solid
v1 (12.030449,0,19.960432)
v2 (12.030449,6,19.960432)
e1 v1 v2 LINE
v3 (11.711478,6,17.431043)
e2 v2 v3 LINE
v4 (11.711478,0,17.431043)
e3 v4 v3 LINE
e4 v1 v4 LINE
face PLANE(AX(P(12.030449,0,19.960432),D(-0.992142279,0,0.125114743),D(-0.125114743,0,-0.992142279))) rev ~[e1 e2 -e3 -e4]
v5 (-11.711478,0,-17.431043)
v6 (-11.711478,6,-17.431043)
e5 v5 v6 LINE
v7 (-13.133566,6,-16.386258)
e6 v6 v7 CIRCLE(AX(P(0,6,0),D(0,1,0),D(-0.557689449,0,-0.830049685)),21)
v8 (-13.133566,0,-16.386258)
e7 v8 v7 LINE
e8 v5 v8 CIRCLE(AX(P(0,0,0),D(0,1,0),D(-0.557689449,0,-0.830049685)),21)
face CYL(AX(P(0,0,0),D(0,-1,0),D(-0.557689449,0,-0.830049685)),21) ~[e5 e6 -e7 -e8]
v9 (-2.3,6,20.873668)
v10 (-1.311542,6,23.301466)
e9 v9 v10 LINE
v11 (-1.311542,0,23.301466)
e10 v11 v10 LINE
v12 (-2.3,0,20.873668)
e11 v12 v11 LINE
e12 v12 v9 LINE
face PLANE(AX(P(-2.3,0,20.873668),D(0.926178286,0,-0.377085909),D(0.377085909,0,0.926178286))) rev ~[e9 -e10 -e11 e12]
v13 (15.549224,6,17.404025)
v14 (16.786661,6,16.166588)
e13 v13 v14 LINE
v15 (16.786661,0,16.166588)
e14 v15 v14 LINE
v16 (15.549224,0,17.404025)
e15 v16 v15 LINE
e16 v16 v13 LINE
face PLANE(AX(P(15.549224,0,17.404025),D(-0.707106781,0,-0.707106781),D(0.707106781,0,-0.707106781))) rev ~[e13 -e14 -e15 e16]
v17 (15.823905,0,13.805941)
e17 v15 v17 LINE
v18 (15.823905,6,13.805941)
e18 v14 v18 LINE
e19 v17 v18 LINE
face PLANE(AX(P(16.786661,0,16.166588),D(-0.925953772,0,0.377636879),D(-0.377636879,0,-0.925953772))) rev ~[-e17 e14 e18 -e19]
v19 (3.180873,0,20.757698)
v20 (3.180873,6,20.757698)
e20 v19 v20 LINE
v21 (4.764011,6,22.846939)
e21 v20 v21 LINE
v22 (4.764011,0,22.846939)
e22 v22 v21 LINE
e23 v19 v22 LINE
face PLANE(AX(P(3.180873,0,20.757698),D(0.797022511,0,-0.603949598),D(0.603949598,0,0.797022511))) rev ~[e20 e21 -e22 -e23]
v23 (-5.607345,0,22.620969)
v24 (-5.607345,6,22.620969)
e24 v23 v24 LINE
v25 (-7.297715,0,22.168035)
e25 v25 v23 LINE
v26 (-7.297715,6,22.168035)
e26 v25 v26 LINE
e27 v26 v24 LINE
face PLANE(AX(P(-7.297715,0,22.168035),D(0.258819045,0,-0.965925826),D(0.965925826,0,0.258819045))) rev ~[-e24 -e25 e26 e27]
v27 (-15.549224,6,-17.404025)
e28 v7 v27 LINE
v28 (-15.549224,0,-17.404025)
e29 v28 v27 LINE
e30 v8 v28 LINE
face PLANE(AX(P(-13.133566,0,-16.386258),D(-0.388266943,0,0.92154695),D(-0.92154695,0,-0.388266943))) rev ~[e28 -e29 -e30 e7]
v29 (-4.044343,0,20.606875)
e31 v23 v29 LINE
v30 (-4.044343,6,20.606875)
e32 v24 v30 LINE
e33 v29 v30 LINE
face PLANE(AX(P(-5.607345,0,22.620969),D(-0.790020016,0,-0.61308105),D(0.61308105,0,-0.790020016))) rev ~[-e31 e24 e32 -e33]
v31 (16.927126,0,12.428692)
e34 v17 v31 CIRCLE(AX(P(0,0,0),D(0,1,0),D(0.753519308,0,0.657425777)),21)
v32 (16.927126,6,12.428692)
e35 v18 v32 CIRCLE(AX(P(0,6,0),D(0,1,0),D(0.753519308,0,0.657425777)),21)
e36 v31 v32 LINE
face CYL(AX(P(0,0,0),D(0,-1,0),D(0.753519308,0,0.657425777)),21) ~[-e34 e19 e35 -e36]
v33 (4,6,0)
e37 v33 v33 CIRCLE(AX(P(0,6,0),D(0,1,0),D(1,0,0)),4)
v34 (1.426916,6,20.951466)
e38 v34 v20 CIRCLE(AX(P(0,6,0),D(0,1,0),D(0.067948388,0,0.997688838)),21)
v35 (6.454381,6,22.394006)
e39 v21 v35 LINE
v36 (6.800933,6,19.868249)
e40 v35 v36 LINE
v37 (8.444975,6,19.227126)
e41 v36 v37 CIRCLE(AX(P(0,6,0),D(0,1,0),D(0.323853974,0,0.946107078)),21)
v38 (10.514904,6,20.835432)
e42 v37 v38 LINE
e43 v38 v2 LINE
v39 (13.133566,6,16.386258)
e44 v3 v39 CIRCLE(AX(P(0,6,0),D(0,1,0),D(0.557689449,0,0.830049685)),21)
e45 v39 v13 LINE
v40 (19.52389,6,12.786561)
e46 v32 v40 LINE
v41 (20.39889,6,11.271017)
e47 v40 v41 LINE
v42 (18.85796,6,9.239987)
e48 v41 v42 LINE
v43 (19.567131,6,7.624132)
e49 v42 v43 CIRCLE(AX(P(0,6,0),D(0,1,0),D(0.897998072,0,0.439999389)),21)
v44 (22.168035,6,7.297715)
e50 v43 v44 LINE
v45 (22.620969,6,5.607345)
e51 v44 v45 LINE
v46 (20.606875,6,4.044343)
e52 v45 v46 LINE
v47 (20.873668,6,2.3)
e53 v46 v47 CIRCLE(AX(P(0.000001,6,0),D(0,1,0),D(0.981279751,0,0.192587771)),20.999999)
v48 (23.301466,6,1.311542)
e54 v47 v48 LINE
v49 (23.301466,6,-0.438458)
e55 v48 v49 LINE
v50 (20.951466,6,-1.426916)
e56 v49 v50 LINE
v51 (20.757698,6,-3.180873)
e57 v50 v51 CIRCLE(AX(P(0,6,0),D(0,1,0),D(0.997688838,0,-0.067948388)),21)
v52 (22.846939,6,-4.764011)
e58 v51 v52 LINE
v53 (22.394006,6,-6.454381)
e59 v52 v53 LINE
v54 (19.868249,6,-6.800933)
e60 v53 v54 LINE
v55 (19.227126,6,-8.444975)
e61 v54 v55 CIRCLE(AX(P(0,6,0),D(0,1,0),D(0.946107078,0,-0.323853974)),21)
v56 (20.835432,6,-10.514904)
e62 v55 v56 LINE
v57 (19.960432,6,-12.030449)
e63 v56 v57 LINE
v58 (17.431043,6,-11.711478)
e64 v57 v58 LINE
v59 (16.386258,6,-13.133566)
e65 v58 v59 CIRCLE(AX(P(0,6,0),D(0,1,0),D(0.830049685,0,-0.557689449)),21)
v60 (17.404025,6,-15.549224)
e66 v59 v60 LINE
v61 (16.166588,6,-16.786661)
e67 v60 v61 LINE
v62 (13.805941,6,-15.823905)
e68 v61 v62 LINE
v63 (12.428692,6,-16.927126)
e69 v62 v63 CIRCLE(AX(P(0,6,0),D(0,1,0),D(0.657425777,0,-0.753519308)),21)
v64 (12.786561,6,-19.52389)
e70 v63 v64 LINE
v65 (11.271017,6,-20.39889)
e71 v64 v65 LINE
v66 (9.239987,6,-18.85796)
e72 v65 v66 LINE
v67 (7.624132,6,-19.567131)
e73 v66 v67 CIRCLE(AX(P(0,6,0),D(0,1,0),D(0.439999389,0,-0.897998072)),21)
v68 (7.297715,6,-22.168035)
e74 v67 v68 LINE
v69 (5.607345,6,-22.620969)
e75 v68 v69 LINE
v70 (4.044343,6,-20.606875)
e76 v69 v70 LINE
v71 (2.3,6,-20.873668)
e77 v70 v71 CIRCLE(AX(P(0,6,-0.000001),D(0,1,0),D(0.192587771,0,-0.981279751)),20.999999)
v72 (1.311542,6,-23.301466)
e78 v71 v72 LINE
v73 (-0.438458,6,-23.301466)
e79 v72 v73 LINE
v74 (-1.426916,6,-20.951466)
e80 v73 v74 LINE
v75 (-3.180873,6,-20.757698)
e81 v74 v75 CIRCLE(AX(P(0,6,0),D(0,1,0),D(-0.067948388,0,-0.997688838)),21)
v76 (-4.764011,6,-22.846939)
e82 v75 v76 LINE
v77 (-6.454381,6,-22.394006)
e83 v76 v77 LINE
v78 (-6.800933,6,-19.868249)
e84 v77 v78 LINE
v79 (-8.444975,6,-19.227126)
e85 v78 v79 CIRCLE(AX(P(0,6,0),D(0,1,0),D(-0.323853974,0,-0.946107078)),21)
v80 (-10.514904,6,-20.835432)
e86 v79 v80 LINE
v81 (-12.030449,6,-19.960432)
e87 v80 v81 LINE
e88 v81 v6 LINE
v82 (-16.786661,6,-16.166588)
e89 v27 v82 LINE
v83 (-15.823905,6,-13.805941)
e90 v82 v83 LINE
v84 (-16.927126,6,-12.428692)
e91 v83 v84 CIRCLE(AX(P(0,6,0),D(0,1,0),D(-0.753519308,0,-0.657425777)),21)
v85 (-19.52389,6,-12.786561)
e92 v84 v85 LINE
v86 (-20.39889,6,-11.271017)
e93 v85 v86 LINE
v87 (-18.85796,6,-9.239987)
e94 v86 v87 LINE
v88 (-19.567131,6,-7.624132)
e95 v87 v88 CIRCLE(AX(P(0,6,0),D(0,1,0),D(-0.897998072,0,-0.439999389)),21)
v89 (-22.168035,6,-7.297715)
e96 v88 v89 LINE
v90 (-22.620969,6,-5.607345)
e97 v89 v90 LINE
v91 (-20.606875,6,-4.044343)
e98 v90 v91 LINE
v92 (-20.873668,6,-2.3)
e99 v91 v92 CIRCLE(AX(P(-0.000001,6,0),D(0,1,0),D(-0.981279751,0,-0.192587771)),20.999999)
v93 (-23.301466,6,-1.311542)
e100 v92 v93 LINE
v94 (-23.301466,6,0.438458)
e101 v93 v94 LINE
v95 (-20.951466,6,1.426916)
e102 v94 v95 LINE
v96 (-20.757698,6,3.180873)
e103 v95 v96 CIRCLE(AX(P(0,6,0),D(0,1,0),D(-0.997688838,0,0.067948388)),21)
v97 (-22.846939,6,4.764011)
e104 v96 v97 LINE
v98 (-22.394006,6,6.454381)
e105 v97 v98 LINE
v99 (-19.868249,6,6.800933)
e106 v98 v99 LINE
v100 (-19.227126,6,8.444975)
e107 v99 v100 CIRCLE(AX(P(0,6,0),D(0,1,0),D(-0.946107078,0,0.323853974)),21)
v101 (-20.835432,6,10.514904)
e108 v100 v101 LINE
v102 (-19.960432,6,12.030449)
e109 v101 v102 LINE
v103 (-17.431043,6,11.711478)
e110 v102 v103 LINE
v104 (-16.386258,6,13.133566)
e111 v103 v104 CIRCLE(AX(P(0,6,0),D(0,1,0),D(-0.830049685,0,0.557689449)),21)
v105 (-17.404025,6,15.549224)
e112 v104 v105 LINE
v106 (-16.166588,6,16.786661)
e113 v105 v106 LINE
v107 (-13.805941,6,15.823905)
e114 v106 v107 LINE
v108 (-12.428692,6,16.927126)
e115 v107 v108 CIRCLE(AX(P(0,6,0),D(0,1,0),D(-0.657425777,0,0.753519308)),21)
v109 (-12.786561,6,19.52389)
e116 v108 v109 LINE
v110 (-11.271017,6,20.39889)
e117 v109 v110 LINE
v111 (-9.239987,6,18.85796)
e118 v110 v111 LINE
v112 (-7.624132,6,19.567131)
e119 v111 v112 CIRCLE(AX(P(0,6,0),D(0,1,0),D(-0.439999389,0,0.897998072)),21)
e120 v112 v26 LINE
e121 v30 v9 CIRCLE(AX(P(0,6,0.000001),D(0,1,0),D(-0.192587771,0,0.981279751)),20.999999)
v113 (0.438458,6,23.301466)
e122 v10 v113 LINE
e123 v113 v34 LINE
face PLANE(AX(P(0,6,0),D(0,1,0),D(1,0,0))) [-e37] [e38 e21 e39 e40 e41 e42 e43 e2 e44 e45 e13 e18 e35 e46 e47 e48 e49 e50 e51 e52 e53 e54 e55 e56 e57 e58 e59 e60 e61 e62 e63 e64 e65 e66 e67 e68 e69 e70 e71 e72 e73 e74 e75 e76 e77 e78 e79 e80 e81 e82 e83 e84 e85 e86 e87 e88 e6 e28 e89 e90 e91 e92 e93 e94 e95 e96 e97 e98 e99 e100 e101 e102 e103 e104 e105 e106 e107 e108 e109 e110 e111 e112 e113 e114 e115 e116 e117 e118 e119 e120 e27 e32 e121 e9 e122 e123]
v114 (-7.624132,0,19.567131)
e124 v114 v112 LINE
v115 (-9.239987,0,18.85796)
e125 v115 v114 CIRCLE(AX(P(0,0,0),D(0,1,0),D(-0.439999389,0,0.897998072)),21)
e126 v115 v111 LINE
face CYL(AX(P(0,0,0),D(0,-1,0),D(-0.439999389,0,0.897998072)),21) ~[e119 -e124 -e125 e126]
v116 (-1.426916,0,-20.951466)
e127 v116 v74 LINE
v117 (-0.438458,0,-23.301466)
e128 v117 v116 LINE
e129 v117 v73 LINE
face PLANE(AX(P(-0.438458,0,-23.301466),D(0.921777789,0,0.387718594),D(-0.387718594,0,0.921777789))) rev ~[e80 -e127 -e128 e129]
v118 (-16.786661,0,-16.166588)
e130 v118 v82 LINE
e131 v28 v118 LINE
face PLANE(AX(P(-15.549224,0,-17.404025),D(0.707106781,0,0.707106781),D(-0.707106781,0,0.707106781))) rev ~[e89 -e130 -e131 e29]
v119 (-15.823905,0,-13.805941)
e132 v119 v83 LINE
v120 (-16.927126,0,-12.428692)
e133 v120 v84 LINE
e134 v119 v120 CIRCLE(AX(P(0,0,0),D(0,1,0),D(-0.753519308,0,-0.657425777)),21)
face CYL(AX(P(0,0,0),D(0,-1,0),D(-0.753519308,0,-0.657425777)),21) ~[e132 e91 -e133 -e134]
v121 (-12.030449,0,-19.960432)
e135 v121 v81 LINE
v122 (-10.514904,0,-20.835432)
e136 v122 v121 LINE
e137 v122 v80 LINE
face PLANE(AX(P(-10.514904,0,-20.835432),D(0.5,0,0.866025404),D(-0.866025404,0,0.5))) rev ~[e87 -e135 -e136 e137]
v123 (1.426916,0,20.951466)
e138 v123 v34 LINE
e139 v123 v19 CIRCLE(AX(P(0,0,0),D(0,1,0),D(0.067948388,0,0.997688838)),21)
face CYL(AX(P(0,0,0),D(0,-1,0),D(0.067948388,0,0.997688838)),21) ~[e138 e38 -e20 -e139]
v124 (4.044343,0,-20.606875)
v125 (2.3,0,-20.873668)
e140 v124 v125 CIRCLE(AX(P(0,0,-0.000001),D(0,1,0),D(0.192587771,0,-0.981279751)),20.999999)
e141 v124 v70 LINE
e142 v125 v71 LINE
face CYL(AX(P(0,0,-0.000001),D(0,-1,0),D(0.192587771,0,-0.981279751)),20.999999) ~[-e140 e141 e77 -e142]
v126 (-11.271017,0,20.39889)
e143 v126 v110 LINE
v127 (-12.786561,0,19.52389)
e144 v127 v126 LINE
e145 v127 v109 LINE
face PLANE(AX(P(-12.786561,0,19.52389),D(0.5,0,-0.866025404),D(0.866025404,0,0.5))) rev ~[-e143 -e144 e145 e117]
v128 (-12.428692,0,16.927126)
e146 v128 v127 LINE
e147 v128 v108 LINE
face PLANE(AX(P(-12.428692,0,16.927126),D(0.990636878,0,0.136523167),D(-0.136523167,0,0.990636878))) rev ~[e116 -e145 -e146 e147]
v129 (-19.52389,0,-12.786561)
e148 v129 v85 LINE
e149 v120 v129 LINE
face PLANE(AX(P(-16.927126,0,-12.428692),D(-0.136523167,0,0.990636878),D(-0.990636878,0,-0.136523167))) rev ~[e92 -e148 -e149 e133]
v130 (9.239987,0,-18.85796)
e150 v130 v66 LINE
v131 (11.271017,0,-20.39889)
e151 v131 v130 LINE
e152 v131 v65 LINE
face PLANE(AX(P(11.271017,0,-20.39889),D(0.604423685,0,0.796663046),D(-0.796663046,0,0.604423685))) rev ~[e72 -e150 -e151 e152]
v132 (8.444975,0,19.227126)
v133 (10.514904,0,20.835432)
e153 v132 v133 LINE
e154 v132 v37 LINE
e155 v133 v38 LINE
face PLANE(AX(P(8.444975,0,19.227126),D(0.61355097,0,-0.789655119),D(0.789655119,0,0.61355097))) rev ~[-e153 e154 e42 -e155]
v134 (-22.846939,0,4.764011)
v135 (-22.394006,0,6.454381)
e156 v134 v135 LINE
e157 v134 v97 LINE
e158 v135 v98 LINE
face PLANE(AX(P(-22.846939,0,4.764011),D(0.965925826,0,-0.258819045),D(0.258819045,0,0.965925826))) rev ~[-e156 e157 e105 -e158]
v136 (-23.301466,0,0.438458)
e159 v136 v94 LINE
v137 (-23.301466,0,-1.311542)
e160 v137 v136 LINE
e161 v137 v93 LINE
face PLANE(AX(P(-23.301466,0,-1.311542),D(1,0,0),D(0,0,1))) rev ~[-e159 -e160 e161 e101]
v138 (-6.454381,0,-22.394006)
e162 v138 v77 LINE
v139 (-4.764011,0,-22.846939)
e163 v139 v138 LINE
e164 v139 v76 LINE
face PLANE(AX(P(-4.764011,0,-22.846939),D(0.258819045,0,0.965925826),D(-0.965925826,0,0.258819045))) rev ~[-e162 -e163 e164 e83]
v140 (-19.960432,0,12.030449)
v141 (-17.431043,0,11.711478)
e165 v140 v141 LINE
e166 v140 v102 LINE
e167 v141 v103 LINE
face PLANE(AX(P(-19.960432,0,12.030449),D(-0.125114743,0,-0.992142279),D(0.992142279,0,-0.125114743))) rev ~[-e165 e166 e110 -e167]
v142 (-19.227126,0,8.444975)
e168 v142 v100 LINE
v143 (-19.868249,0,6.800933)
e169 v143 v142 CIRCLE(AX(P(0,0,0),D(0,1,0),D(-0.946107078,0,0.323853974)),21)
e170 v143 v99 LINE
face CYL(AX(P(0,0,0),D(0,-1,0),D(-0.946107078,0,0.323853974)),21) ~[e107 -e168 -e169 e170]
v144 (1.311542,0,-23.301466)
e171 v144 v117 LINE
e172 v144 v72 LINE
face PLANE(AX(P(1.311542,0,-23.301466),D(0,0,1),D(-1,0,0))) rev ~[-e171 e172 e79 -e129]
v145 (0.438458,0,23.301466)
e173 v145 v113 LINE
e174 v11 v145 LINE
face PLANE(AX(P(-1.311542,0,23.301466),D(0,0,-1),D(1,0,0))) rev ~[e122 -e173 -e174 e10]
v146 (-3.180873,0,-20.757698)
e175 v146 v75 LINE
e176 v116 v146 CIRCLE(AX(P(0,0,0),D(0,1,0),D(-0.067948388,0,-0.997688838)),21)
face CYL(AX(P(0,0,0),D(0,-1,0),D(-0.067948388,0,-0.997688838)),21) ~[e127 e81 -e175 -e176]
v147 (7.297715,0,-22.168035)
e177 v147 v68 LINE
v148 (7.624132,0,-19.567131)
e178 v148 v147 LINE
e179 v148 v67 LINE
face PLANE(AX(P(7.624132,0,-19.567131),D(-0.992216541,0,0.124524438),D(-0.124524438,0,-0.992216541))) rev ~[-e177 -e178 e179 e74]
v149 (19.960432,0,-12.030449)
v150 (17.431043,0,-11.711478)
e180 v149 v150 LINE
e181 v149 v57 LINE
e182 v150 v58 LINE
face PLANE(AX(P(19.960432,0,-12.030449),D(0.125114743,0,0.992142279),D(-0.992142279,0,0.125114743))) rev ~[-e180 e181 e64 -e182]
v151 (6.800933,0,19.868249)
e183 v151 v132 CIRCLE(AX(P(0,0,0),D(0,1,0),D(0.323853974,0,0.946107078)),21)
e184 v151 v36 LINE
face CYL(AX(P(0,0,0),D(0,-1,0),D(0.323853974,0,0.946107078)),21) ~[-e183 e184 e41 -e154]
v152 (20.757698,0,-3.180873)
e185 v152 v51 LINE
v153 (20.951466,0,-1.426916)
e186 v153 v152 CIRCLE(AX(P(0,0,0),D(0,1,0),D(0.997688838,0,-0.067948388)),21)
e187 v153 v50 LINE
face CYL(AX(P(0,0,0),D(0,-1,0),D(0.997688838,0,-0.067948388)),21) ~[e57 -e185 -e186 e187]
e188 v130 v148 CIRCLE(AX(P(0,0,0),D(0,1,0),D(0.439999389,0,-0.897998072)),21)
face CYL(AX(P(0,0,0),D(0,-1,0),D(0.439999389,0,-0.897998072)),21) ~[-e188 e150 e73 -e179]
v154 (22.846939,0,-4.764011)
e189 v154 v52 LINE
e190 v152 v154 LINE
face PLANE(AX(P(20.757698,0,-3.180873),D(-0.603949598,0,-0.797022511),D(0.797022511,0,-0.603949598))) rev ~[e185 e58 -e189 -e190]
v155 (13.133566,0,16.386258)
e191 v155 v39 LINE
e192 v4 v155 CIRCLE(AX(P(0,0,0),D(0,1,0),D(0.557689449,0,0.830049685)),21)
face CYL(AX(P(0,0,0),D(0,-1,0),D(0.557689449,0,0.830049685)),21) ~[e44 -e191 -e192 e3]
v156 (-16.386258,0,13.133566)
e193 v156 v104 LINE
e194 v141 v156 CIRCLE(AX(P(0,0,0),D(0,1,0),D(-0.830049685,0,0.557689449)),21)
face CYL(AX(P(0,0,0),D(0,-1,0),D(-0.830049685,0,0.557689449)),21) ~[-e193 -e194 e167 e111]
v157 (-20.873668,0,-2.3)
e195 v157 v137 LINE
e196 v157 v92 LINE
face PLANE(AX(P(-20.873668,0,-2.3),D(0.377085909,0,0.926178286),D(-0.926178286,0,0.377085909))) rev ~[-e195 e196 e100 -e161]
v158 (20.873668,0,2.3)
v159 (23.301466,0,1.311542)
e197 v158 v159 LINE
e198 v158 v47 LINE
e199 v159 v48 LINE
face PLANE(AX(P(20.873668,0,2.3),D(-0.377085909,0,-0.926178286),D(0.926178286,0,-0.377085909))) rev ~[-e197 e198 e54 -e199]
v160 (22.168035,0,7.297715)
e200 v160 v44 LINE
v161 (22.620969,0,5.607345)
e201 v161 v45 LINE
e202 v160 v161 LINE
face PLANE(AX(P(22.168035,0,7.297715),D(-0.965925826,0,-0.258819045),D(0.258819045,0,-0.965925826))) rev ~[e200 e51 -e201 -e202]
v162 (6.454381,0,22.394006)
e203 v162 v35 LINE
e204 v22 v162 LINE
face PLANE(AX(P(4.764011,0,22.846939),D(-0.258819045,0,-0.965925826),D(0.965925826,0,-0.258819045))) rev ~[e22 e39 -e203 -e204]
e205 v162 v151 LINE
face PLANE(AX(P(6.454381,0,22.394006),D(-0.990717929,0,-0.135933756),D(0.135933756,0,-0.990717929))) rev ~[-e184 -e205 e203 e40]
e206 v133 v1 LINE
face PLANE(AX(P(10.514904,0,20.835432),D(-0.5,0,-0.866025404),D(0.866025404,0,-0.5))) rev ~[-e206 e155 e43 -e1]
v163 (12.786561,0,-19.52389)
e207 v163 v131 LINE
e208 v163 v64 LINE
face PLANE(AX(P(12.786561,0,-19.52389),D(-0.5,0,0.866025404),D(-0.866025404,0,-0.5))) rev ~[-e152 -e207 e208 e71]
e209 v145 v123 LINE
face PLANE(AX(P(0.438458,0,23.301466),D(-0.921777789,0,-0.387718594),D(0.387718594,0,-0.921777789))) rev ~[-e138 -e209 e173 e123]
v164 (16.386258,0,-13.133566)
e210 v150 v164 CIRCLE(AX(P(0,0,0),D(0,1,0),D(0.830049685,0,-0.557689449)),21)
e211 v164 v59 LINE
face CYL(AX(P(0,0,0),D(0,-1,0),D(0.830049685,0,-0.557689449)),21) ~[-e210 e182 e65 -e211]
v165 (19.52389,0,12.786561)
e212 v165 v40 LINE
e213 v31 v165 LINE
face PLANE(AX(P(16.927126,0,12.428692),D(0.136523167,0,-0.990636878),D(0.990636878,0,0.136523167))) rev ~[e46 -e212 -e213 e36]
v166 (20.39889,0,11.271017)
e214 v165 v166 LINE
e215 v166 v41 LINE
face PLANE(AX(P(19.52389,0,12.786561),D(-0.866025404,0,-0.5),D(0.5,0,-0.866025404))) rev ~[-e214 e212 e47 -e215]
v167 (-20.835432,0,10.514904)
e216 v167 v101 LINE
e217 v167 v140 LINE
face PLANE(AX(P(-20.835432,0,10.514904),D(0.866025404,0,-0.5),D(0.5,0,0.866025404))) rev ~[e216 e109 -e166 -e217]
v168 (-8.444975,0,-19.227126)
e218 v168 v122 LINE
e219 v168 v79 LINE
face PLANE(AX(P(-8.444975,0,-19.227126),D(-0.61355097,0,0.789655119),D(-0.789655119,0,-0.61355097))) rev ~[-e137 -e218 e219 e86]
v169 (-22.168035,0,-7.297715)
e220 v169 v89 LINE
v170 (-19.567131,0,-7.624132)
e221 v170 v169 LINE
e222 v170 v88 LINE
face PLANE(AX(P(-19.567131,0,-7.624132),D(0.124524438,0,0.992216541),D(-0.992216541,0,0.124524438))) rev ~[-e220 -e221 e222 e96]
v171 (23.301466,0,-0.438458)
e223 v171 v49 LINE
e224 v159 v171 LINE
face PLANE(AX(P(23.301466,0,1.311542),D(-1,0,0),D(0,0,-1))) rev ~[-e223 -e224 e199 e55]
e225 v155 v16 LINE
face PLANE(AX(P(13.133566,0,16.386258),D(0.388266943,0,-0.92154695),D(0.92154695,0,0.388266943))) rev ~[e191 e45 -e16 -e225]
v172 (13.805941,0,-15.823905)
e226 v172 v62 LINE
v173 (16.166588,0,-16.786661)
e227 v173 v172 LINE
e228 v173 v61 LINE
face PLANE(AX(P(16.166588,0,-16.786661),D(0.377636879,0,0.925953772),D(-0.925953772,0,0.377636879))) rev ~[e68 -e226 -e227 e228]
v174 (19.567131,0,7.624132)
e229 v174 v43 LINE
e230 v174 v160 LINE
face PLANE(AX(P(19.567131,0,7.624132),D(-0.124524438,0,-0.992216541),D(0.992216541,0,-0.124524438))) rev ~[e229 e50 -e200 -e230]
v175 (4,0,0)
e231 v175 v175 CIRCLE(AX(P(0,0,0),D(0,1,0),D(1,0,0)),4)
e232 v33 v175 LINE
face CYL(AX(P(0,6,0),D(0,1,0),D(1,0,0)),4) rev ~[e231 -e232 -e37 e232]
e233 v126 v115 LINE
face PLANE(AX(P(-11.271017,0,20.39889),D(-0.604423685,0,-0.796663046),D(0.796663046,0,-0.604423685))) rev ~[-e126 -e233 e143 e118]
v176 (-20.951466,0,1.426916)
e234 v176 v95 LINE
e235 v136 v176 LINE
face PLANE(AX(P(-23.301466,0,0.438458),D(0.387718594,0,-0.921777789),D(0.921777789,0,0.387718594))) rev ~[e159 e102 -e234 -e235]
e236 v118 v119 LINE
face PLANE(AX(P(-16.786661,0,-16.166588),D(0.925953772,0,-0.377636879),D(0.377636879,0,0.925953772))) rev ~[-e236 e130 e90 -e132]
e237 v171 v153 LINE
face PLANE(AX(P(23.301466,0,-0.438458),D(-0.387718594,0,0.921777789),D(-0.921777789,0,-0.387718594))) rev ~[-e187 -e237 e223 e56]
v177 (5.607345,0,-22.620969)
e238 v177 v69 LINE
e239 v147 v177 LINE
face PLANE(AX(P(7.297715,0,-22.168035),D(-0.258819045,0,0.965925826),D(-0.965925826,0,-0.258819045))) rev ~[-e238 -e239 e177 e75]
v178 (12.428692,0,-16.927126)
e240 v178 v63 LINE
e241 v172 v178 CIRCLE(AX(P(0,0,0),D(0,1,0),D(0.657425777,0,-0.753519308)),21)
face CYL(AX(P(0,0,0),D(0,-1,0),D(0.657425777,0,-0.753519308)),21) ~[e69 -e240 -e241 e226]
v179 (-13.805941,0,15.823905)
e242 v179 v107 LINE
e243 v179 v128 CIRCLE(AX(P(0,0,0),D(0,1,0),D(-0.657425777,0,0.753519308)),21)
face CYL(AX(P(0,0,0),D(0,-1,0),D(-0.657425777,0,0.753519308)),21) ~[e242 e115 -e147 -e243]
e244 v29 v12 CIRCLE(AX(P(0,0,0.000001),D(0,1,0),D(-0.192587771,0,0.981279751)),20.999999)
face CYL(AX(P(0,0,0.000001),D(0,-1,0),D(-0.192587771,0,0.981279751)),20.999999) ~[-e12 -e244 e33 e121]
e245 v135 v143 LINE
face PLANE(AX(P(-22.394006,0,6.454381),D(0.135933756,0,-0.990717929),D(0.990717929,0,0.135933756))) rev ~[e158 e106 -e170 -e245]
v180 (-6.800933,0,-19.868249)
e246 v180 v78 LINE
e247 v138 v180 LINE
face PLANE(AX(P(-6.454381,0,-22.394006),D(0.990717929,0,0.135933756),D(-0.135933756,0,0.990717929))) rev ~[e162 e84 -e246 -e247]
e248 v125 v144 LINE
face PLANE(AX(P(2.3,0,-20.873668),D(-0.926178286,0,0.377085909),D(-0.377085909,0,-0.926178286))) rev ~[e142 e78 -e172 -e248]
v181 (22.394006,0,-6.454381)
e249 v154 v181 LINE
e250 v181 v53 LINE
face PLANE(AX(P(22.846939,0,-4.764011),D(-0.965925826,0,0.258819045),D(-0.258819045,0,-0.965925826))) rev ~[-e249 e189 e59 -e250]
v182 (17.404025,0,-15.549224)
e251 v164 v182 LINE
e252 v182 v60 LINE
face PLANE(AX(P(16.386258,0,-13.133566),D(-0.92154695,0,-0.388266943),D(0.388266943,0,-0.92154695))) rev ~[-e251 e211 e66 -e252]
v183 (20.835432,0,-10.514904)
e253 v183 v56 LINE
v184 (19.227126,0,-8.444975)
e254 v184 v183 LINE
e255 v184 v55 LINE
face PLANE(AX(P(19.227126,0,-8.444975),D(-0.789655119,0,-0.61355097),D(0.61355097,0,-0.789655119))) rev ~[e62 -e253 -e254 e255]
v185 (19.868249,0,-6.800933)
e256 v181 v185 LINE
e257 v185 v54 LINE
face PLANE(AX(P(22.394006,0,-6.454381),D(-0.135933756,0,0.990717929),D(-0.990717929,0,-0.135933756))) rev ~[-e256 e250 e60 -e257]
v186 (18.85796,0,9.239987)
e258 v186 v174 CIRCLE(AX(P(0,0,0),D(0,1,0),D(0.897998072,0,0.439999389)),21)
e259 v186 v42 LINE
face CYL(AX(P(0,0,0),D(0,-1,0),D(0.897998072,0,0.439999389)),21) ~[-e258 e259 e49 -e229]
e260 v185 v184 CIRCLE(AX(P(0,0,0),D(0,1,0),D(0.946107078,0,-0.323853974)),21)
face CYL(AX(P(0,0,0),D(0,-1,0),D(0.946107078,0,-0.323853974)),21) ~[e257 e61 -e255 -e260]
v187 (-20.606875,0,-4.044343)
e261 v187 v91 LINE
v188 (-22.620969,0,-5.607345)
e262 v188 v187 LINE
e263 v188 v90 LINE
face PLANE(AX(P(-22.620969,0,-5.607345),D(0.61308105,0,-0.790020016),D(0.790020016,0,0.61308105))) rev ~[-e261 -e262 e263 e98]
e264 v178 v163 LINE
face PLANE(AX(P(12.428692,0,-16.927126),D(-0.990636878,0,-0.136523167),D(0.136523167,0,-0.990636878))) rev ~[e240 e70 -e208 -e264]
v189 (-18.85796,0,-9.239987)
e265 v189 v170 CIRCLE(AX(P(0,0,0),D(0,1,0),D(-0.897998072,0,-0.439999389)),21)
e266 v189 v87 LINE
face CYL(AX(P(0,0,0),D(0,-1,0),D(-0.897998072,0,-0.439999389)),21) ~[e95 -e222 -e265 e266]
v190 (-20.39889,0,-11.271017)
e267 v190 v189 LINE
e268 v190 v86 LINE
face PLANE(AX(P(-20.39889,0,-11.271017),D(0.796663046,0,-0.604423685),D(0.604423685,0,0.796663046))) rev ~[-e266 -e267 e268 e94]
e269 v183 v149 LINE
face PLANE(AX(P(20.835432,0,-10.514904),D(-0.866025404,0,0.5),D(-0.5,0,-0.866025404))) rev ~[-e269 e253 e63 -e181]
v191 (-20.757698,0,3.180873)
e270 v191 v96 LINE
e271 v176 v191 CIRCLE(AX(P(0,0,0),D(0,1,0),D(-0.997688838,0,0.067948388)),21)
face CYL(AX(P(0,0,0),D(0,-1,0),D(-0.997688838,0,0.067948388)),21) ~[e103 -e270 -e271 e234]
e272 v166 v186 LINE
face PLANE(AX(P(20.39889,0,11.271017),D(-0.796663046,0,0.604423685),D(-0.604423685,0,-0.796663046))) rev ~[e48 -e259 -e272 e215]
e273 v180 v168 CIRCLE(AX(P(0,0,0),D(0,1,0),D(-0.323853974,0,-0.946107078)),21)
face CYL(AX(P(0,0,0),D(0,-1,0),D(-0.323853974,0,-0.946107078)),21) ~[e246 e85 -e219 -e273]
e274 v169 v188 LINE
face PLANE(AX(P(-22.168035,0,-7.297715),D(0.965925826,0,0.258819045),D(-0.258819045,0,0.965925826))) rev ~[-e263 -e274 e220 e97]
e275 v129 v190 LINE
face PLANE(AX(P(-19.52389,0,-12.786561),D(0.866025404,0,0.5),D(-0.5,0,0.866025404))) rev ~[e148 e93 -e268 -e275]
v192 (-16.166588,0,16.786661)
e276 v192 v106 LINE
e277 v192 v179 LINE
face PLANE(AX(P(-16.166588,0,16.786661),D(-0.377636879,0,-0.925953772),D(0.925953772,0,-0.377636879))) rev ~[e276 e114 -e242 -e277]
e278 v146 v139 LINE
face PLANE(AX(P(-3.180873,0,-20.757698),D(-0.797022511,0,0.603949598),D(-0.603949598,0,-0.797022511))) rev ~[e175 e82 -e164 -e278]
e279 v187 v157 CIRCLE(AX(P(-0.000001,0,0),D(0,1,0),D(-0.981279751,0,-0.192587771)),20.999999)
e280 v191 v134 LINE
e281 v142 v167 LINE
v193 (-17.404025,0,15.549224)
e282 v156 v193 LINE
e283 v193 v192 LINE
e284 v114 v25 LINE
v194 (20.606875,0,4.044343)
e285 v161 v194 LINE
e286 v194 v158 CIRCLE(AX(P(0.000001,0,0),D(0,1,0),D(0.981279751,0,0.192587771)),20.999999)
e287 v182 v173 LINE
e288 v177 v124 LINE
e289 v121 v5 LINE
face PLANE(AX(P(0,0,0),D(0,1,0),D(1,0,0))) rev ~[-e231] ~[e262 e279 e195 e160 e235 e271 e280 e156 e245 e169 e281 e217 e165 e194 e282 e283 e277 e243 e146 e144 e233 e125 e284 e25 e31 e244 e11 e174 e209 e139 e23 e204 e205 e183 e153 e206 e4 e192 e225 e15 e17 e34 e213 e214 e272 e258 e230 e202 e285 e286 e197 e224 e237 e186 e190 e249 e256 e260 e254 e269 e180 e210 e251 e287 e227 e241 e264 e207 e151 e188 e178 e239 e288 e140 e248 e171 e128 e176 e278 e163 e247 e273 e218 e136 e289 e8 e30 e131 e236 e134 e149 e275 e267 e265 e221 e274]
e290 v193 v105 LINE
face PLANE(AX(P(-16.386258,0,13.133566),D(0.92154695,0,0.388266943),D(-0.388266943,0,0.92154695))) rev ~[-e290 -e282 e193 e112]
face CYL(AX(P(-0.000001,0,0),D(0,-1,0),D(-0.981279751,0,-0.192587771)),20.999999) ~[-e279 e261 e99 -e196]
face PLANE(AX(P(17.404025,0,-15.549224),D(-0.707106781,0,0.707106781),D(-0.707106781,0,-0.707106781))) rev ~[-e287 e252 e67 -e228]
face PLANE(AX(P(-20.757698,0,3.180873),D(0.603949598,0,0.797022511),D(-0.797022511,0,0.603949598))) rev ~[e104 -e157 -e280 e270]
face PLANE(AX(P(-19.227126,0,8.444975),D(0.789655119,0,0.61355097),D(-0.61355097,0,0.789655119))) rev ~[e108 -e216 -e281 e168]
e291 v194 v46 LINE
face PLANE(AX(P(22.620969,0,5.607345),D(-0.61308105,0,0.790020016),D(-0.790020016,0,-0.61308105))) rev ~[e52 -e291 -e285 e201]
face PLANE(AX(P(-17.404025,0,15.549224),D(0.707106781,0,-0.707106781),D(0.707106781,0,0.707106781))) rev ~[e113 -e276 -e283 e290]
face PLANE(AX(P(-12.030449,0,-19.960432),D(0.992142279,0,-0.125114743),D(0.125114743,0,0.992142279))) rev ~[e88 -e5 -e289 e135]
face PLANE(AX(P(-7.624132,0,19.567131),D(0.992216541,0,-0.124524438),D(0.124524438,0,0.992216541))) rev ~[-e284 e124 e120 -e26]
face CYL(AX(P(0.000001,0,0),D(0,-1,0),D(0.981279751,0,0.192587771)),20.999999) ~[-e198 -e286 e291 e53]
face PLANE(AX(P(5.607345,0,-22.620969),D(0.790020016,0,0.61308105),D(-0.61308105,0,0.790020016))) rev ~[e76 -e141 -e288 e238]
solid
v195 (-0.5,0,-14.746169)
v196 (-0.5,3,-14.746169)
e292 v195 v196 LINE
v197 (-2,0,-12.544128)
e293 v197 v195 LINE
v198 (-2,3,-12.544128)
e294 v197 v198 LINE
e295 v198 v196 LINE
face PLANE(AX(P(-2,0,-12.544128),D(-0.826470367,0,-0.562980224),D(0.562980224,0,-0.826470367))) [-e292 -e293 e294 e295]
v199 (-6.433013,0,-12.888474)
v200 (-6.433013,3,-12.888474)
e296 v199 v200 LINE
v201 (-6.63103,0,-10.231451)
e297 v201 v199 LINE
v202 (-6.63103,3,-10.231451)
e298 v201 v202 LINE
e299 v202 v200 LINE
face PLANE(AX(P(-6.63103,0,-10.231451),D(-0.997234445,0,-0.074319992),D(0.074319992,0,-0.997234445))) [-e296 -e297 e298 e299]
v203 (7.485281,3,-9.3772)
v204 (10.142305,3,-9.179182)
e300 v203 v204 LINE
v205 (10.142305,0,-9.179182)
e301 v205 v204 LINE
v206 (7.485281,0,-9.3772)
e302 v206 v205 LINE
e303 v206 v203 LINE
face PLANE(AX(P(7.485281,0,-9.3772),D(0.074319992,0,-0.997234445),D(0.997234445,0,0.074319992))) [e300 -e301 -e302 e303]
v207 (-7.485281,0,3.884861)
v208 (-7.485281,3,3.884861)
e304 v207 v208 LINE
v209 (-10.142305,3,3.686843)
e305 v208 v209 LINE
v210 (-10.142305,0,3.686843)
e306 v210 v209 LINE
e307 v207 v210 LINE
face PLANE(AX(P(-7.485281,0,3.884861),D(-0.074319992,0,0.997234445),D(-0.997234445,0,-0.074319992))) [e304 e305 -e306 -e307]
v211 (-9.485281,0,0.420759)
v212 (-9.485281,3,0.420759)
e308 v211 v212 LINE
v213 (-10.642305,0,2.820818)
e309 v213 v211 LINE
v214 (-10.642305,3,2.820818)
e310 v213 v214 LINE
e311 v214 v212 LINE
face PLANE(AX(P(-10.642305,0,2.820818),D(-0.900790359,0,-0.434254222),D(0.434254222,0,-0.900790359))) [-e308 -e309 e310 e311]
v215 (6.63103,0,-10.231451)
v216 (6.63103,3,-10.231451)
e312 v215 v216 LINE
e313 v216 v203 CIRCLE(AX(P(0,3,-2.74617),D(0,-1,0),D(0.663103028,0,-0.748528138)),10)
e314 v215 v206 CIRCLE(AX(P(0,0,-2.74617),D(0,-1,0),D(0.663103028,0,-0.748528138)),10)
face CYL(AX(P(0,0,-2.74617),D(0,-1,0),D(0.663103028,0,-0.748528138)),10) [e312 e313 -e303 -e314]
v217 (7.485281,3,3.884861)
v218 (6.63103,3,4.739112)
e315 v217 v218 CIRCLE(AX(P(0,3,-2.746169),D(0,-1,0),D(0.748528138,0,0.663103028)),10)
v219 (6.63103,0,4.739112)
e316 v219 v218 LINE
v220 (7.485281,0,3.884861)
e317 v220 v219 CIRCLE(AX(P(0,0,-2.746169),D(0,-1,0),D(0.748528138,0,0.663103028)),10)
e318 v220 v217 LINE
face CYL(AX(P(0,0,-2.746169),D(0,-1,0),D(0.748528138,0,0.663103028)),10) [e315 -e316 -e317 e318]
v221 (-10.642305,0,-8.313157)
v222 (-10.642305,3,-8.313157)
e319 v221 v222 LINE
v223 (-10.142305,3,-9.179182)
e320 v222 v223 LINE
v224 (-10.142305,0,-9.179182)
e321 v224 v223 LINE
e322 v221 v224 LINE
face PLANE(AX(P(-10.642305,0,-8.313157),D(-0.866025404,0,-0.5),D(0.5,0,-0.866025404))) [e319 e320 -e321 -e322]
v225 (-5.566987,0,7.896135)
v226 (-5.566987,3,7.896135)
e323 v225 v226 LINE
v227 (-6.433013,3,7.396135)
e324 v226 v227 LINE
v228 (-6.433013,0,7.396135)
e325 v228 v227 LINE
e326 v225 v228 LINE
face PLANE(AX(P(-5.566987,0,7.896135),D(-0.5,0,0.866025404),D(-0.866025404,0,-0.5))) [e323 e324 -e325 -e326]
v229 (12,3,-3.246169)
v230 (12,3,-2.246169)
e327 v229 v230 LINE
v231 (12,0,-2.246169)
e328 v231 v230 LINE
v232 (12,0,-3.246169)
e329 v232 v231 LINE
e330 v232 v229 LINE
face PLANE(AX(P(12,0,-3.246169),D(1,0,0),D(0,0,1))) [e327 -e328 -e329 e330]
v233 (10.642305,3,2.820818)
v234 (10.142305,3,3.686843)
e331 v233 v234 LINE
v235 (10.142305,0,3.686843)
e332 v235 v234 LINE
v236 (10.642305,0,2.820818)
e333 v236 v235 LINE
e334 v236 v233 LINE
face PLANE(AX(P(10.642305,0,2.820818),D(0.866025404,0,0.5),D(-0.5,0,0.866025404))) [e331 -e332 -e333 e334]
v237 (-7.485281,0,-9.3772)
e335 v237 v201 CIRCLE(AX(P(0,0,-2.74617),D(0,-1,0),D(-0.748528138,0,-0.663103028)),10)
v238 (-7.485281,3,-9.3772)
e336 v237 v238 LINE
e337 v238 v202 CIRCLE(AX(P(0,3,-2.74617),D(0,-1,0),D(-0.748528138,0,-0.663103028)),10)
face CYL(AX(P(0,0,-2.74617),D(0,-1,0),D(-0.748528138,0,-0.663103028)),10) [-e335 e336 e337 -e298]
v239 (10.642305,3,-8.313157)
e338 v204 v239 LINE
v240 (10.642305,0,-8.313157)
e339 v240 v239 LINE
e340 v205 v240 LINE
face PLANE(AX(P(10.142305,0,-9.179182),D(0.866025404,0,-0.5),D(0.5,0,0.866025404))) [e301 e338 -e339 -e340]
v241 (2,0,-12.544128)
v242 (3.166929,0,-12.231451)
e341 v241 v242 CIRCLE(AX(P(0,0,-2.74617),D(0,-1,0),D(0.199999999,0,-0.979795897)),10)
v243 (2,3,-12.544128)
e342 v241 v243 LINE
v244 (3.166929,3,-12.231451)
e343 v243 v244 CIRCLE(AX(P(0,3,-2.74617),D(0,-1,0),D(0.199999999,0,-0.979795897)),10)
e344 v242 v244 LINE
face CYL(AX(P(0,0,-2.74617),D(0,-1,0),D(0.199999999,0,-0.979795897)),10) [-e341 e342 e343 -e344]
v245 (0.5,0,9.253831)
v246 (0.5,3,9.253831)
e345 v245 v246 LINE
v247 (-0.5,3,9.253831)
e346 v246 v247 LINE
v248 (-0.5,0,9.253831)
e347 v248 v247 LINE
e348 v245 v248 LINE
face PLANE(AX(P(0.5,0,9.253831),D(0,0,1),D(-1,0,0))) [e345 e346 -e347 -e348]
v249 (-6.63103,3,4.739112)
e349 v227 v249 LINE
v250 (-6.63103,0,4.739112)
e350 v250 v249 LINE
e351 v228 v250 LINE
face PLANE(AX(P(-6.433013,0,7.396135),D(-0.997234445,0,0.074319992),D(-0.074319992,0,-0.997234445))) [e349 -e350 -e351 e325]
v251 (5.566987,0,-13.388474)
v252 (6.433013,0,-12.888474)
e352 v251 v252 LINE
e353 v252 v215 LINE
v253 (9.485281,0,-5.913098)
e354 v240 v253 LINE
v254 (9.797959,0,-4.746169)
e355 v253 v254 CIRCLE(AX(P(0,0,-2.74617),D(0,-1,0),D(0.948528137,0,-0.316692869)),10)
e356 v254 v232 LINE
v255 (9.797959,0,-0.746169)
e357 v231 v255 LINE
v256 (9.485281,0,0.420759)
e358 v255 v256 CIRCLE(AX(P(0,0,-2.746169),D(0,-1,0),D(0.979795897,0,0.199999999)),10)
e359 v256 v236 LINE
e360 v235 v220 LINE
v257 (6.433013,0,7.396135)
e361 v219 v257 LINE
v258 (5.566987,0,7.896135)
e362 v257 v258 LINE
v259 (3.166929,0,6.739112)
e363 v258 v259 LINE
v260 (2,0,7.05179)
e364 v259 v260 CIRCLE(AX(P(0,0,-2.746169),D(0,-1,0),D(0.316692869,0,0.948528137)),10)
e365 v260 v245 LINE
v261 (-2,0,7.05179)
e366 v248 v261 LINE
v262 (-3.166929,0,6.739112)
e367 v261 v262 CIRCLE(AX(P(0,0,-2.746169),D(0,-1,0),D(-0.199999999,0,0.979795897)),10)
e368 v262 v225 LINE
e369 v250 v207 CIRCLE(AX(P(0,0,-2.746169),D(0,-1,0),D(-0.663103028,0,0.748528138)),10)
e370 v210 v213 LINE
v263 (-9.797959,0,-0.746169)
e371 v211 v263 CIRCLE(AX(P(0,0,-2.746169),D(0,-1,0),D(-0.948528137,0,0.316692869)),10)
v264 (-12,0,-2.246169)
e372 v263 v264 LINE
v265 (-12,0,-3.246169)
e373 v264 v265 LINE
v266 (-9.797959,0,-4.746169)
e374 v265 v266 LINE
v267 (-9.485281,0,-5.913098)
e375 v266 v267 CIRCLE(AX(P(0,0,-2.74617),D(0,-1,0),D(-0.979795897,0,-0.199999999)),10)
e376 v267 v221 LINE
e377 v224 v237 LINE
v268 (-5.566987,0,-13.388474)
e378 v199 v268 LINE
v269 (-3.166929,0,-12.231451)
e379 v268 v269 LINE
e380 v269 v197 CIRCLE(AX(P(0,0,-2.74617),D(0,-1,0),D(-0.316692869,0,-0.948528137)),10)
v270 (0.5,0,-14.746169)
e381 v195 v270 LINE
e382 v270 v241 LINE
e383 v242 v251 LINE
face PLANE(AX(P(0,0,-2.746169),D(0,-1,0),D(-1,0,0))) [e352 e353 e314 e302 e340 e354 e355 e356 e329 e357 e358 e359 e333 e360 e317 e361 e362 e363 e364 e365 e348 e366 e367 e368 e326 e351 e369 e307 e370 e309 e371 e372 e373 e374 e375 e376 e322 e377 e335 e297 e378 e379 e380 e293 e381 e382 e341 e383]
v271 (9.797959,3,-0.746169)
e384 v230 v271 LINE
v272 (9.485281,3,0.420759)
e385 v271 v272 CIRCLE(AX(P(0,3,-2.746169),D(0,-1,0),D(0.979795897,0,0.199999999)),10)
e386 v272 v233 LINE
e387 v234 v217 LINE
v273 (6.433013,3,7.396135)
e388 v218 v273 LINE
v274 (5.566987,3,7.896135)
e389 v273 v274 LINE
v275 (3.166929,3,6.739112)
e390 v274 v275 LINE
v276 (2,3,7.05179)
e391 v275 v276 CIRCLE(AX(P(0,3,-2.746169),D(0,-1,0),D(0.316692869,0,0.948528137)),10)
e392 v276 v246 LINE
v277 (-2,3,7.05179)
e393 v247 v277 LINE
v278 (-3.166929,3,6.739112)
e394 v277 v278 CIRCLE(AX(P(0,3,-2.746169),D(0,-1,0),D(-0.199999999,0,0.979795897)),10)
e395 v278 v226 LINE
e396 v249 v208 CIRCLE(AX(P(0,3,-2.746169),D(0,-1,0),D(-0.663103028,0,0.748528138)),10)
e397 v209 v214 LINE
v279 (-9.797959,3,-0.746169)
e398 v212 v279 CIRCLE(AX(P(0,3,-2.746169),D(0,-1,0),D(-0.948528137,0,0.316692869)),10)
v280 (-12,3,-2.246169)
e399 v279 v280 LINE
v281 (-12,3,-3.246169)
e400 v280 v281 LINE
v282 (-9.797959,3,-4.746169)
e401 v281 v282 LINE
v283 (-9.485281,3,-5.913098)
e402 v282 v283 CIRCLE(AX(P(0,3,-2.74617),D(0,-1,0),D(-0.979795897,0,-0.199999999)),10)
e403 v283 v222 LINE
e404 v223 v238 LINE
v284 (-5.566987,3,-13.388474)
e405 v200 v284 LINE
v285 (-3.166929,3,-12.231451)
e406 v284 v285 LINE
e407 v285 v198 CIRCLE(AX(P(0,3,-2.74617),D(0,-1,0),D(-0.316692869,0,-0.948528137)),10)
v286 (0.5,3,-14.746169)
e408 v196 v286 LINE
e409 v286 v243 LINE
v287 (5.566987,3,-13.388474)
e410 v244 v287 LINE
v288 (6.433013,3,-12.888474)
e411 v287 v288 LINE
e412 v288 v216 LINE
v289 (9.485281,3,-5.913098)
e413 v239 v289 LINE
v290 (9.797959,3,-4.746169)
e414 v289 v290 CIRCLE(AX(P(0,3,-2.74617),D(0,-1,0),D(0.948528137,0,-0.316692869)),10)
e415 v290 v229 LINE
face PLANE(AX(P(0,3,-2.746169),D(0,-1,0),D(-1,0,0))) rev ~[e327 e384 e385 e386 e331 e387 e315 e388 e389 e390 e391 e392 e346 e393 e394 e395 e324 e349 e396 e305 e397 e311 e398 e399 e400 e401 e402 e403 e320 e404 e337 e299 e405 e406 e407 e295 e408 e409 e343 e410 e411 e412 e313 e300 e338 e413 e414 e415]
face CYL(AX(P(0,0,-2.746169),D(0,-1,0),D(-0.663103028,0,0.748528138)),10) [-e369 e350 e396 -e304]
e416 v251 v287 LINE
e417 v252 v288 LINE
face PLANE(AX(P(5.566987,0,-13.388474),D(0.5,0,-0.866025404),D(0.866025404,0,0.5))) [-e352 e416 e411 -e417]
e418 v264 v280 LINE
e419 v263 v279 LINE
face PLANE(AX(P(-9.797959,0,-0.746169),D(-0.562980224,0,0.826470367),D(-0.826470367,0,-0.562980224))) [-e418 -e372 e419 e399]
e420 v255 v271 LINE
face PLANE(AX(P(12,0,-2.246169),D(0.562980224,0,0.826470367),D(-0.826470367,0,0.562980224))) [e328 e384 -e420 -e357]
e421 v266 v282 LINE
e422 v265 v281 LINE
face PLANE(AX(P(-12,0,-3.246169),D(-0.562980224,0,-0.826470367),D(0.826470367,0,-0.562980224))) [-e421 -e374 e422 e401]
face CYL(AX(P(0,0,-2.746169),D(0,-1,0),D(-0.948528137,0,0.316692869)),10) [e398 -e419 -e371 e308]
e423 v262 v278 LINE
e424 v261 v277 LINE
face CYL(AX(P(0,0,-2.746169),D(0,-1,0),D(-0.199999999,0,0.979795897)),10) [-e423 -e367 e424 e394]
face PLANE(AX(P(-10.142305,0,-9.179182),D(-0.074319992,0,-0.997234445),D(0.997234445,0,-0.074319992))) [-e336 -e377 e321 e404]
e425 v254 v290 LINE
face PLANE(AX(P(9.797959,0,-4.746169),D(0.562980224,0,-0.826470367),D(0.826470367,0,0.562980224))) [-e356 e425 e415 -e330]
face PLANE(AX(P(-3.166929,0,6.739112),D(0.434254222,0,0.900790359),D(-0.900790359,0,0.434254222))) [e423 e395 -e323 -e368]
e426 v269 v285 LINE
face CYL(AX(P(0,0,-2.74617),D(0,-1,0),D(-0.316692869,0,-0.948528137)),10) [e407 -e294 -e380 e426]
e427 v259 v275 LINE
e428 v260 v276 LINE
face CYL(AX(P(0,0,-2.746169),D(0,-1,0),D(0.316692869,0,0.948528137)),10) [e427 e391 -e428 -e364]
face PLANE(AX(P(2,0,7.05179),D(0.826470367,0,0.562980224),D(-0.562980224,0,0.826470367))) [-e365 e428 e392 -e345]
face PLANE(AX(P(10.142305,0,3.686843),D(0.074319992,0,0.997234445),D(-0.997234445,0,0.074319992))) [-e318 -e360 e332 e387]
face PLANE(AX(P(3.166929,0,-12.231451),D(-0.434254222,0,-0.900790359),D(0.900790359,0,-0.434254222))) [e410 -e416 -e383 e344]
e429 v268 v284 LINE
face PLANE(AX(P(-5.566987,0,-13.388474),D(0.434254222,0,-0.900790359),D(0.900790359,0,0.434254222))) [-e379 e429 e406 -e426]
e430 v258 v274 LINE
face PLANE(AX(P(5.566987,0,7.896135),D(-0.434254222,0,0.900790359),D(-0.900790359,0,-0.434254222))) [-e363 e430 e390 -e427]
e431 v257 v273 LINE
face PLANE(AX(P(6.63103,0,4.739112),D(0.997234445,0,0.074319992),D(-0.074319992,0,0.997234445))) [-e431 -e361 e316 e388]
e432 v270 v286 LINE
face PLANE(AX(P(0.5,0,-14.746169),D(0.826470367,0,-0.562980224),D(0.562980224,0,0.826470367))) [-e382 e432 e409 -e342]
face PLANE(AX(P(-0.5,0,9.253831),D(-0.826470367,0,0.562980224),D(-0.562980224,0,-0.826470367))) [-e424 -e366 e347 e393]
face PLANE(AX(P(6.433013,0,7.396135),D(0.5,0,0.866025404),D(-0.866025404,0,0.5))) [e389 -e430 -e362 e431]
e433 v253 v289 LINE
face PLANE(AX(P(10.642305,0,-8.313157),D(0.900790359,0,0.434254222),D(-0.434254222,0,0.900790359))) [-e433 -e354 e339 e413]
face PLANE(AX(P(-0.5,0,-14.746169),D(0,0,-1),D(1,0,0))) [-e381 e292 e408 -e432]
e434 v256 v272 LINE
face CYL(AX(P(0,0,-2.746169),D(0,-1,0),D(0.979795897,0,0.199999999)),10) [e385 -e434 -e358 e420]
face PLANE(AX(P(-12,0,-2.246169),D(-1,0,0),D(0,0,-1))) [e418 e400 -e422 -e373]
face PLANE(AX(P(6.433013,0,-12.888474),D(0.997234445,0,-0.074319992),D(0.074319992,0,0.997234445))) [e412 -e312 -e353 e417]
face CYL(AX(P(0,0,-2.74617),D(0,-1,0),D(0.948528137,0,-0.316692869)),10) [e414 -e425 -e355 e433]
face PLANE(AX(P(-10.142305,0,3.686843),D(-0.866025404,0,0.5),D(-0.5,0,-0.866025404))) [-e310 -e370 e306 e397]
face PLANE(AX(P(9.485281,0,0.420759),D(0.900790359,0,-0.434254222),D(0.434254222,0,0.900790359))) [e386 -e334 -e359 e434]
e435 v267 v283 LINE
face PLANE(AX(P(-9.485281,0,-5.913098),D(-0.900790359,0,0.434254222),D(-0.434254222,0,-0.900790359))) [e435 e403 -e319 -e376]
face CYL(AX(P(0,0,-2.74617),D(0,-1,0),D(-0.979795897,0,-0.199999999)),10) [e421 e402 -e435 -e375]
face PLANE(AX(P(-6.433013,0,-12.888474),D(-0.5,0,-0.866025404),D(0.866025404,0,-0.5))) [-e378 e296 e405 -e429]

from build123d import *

# Parameters (mm, degrees)
BOSS_EXTRUDE5_DEPTH = 6
BOSS_EXTRUDE6_DEPTH = 3
SKETCH4_R           = 4
CUT_EXTRUDE1_DEPTH  = 10


with BuildPart() as part:
    # Sketch3 → Boss-Extrude5 (new body)
    with BuildSketch(Plane(origin=(0, 0, 0), x_dir=(1, 0, 0), z_dir=(0, 1, 0))):
        with BuildLine():
            Line((23.301465589, -1.311541929), (23.301465589, 0.438458071))
            Line((23.301465589, 0.438458071), (20.951465589, 1.426916143))
            ThreePointArc((20.951465589, 1.426916143), (20.873013262, 2.30593091), (20.757698449, 3.180873321))
            Line((20.757698449, 3.180873321), (22.846939432, 4.764010852))
            Line((22.846939432, 4.764010852), (22.394006103, 6.454381048))
            Line((22.394006103, 6.454381048), (19.868248637, 6.800933471))
            ThreePointArc((19.868248637, 6.800933471), (19.564963746, 7.629691581), (19.227126431, 8.444975382))
            Line((19.227126431, 8.444975382), (20.83543211, 10.514904166))
            Line((20.83543211, 10.514904166), (19.96043211, 12.030448623))
            Line((19.96043211, 12.030448623), (17.431043375, 11.711478423))
            ThreePointArc((17.431043375, 11.711478423), (16.923594283, 12.433501379), (16.386257521, 13.133566327))
            Line((16.386257521, 13.133566327), (17.404024521, 15.549224138))
            Line((17.404024521, 15.549224138), (16.166587654, 16.786661005))
            Line((16.166587654, 16.786661005), (13.805941313, 15.823905474))
            ThreePointArc((13.805941313, 15.823905474), (13.128909838, 16.389988605), (12.42869224, 16.927126431))
            Line((12.42869224, 16.927126431), (12.786561423, 19.523890181))
            Line((12.786561423, 19.523890181), (11.271016966, 20.398890181))
            Line((11.271016966, 20.398890181), (9.239987166, 18.857959518))
            ThreePointArc((9.239987166, 18.857959518), (8.439511883, 19.229525194), (7.624132122, 19.567130842))
            Line((7.624132122, 19.567130842), (7.297715294, 22.168035373))
            Line((7.297715294, 22.168035373), (5.607345098, 22.620968702))
            Line((5.607345098, 22.620968702), (4.044343163, 20.606874784))
            ThreePointArc((4.044343163, 20.606874784), (3.174975141, 20.758601419), (2.3, 20.873667622))
            Line((2.3, 20.873667622), (1.311541929, 23.301465589))
            Line((1.311541929, 23.301465589), (-0.438458071, 23.301465589))
            Line((-0.438458071, 23.301465589), (-1.426916143, 20.951465589))
            ThreePointArc((-1.426916143, 20.951465589), (-2.30593091, 20.873013262), (-3.180873321, 20.757698449))
            Line((-3.180873321, 20.757698449), (-4.764010852, 22.846939432))
            Line((-4.764010852, 22.846939432), (-6.454381048, 22.394006103))
            Line((-6.454381048, 22.394006103), (-6.800933471, 19.868248637))
            ThreePointArc((-6.800933471, 19.868248637), (-7.629691581, 19.564963746), (-8.444975382, 19.227126431))
            Line((-8.444975382, 19.227126431), (-10.514904166, 20.83543211))
            Line((-10.514904166, 20.83543211), (-12.030448623, 19.96043211))
            Line((-12.030448623, 19.96043211), (-11.711478423, 17.431043375))
            ThreePointArc((-11.711478423, 17.431043375), (-12.433501379, 16.923594283), (-13.133566327, 16.386257521))
            Line((-13.133566327, 16.386257521), (-15.549224138, 17.404024521))
            Line((-15.549224138, 17.404024521), (-16.786661005, 16.166587654))
            Line((-16.786661005, 16.166587654), (-15.823905474, 13.805941313))
            ThreePointArc((-15.823905474, 13.805941313), (-16.389988605, 13.128909838), (-16.927126431, 12.42869224))
            Line((-16.927126431, 12.42869224), (-19.523890181, 12.786561423))
            Line((-19.523890181, 12.786561423), (-20.398890181, 11.271016966))
            Line((-20.398890181, 11.271016966), (-18.857959518, 9.239987166))
            ThreePointArc((-18.857959518, 9.239987166), (-19.229525194, 8.439511883), (-19.567130842, 7.624132122))
            Line((-19.567130842, 7.624132122), (-22.168035373, 7.297715294))
            Line((-22.168035373, 7.297715294), (-22.620968702, 5.607345098))
            Line((-22.620968702, 5.607345098), (-20.606874784, 4.044343163))
            ThreePointArc((-20.606874784, 4.044343163), (-20.758601419, 3.174975141), (-20.873667622, 2.3))
            Line((-20.873667622, 2.3), (-23.301465589, 1.311541929))
            Line((-23.301465589, 1.311541929), (-23.301465589, -0.438458071))
            Line((-23.301465589, -0.438458071), (-20.951465589, -1.426916143))
            ThreePointArc((-20.951465589, -1.426916143), (-20.873013262, -2.30593091), (-20.757698449, -3.180873321))
            Line((-20.757698449, -3.180873321), (-22.846939432, -4.764010852))
            Line((-22.846939432, -4.764010852), (-22.394006103, -6.454381048))
            Line((-22.394006103, -6.454381048), (-19.868248637, -6.800933471))
            ThreePointArc((-19.868248637, -6.800933471), (-19.564963746, -7.629691581), (-19.227126431, -8.444975382))
            Line((-19.227126431, -8.444975382), (-20.83543211, -10.514904166))
            Line((-20.83543211, -10.514904166), (-19.96043211, -12.030448623))
            Line((-19.96043211, -12.030448623), (-17.431043375, -11.711478423))
            ThreePointArc((-17.431043375, -11.711478423), (-16.923594283, -12.433501379), (-16.386257521, -13.133566327))
            Line((-16.386257521, -13.133566327), (-17.404024521, -15.549224138))
            Line((-17.404024521, -15.549224138), (-16.166587654, -16.786661005))
            Line((-16.166587654, -16.786661005), (-13.805941313, -15.823905474))
            ThreePointArc((-13.805941313, -15.823905474), (-13.128909838, -16.389988605), (-12.42869224, -16.927126431))
            Line((-12.42869224, -16.927126431), (-12.786561423, -19.523890181))
            Line((-12.786561423, -19.523890181), (-11.271016966, -20.398890181))
            Line((-11.271016966, -20.398890181), (-9.239987166, -18.857959518))
            ThreePointArc((-9.239987166, -18.857959518), (-8.439511883, -19.229525194), (-7.624132122, -19.567130842))
            Line((-7.624132122, -19.567130842), (-7.297715294, -22.168035373))
            Line((-7.297715294, -22.168035373), (-5.607345098, -22.620968702))
            Line((-5.607345098, -22.620968702), (-4.044343163, -20.606874784))
            ThreePointArc((-4.044343163, -20.606874784), (-3.174975141, -20.758601419), (-2.3, -20.873667622))
            Line((-2.3, -20.873667622), (-1.311541929, -23.301465589))
            Line((-1.311541929, -23.301465589), (0.438458071, -23.301465589))
            Line((0.438458071, -23.301465589), (1.426916143, -20.951465589))
            ThreePointArc((1.426916143, -20.951465589), (2.30593091, -20.873013262), (3.180873321, -20.757698449))
            Line((3.180873321, -20.757698449), (4.764010852, -22.846939432))
            Line((4.764010852, -22.846939432), (6.454381048, -22.394006103))
            Line((6.454381048, -22.394006103), (6.800933471, -19.868248637))
            ThreePointArc((6.800933471, -19.868248637), (7.629691581, -19.564963746), (8.444975382, -19.227126431))
            Line((8.444975382, -19.227126431), (10.514904166, -20.83543211))
            Line((10.514904166, -20.83543211), (12.030448623, -19.96043211))
            Line((12.030448623, -19.96043211), (11.711478423, -17.431043375))
            ThreePointArc((11.711478423, -17.431043375), (12.433501379, -16.923594283), (13.133566327, -16.386257521))
            Line((13.133566327, -16.386257521), (15.549224138, -17.404024521))
            Line((15.549224138, -17.404024521), (16.786661005, -16.166587654))
            Line((16.786661005, -16.166587654), (15.823905474, -13.805941313))
            ThreePointArc((15.823905474, -13.805941313), (16.389988605, -13.128909838), (16.927126431, -12.42869224))
            Line((16.927126431, -12.42869224), (19.523890181, -12.786561423))
            Line((19.523890181, -12.786561423), (20.398890181, -11.271016966))
            Line((20.398890181, -11.271016966), (18.857959518, -9.239987166))
            ThreePointArc((18.857959518, -9.239987166), (19.229525194, -8.439511883), (19.567130842, -7.624132122))
            Line((19.567130842, -7.624132122), (22.168035373, -7.297715294))
            Line((22.168035373, -7.297715294), (22.620968702, -5.607345098))
            Line((22.620968702, -5.607345098), (20.606874784, -4.044343163))
            ThreePointArc((20.606874784, -4.044343163), (20.758601419, -3.174975141), (20.873667622, -2.3))
            Line((20.873667622, -2.3), (23.301465589, -1.311541929))
        make_face()
    extrude(amount=BOSS_EXTRUDE5_DEPTH)

    # Sketch4 → Cut-Extrude1 (cut)
    with BuildSketch(Plane(origin=(0, 6, 0), x_dir=(1, 0, 0), z_dir=(0, 1, 0))):
        Circle(SKETCH4_R)
    extrude(amount=-CUT_EXTRUDE1_DEPTH, mode=Mode.SUBTRACT)


with BuildPart() as body_2:
    # Sketch1 → Boss-Extrude6 (new body)
    with BuildSketch(Plane(origin=(0, 0, 0), x_dir=(1, 0, 0), z_dir=(0, 1, 0))):
        with BuildLine():
            Line((-0.5, 14.746169466), (0.5, 14.746169466))
            Line((0.5, 14.746169466), (2, 12.544128437))
            ThreePointArc((2, 12.544128437), (2.588190451, 12.405427729), (3.166928678, 12.23145084))
            Line((3.166928678, 12.23145084), (5.566987298, 13.388474311))
            Line((5.566987298, 13.388474311), (6.433012702, 12.888474311))
            Line((6.433012702, 12.888474311), (6.631030293, 10.23145084))
            ThreePointArc((6.631030293, 10.23145084), (7.071067812, 9.817237278), (7.485281374, 9.377199759))
            Line((7.485281374, 9.377199759), (10.142304845, 9.179182168))
            Line((10.142304845, 9.179182168), (10.642304845, 8.313156764))
            Line((10.642304845, 8.313156764), (9.485281374, 5.913098144))
            ThreePointArc((9.485281374, 5.913098144), (9.659258263, 5.334359917), (9.797958971, 4.746169466))
            Line((9.797958971, 4.746169466), (12, 3.246169466))
            Line((12, 3.246169466), (12, 2.246169466))
            Line((12, 2.246169466), (9.797958971, 0.746169466))
            ThreePointArc((9.797958971, 0.746169466), (9.659258263, 0.157979015), (9.485281374, -0.420759212))
            Line((9.485281374, -0.420759212), (10.642304845, -2.820817832))
            Line((10.642304845, -2.820817832), (10.142304845, -3.686843236))
            Line((10.142304845, -3.686843236), (7.485281374, -3.884860827))
            ThreePointArc((7.485281374, -3.884860827), (7.071067812, -4.324898346), (6.631030293, -4.739111908))
            Line((6.631030293, -4.739111908), (6.433012702, -7.39613538))
            Line((6.433012702, -7.39613538), (5.566987298, -7.89613538))
            Line((5.566987298, -7.89613538), (3.166928678, -6.739111908))
            ThreePointArc((3.166928678, -6.739111908), (2.588190451, -6.913088797), (2, -7.051789505))
            Line((2, -7.051789505), (0.5, -9.253830534))
            Line((0.5, -9.253830534), (-0.5, -9.253830534))
            Line((-0.5, -9.253830534), (-2, -7.051789505))
            ThreePointArc((-2, -7.051789505), (-2.588190451, -6.913088797), (-3.166928678, -6.739111908))
            Line((-3.166928678, -6.739111908), (-5.566987298, -7.89613538))
            Line((-5.566987298, -7.89613538), (-6.433012702, -7.39613538))
            Line((-6.433012702, -7.39613538), (-6.631030293, -4.739111908))
            ThreePointArc((-6.631030293, -4.739111908), (-7.071067812, -4.324898346), (-7.485281374, -3.884860827))
            Line((-7.485281374, -3.884860827), (-10.142304845, -3.686843236))
            Line((-10.142304845, -3.686843236), (-10.642304845, -2.820817832))
            Line((-10.642304845, -2.820817832), (-9.485281374, -0.420759212))
            ThreePointArc((-9.485281374, -0.420759212), (-9.659258263, 0.157979015), (-9.797958971, 0.746169466))
            Line((-9.797958971, 0.746169466), (-12, 2.246169466))
            Line((-12, 2.246169466), (-12, 3.246169466))
            Line((-12, 3.246169466), (-9.797958971, 4.746169466))
            ThreePointArc((-9.797958971, 4.746169466), (-9.659258263, 5.334359917), (-9.485281374, 5.913098144))
            Line((-9.485281374, 5.913098144), (-10.642304845, 8.313156764))
            Line((-10.642304845, 8.313156764), (-10.142304845, 9.179182168))
            Line((-10.142304845, 9.179182168), (-7.485281374, 9.377199759))
            ThreePointArc((-7.485281374, 9.377199759), (-7.071067812, 9.817237278), (-6.631030293, 10.23145084))
            Line((-6.631030293, 10.23145084), (-6.433012702, 12.888474311))
            Line((-6.433012702, 12.888474311), (-5.566987298, 13.388474311))
            Line((-5.566987298, 13.388474311), (-3.166928678, 12.23145084))
            ThreePointArc((-3.166928678, 12.23145084), (-2.588190451, 12.405427729), (-2, 12.544128437))
            Line((-2, 12.544128437), (-0.5, 14.746169466))
        make_face()
    extrude(amount=BOSS_EXTRUDE6_DEPTH)


solid = Compound([part.part, body_2.part])
